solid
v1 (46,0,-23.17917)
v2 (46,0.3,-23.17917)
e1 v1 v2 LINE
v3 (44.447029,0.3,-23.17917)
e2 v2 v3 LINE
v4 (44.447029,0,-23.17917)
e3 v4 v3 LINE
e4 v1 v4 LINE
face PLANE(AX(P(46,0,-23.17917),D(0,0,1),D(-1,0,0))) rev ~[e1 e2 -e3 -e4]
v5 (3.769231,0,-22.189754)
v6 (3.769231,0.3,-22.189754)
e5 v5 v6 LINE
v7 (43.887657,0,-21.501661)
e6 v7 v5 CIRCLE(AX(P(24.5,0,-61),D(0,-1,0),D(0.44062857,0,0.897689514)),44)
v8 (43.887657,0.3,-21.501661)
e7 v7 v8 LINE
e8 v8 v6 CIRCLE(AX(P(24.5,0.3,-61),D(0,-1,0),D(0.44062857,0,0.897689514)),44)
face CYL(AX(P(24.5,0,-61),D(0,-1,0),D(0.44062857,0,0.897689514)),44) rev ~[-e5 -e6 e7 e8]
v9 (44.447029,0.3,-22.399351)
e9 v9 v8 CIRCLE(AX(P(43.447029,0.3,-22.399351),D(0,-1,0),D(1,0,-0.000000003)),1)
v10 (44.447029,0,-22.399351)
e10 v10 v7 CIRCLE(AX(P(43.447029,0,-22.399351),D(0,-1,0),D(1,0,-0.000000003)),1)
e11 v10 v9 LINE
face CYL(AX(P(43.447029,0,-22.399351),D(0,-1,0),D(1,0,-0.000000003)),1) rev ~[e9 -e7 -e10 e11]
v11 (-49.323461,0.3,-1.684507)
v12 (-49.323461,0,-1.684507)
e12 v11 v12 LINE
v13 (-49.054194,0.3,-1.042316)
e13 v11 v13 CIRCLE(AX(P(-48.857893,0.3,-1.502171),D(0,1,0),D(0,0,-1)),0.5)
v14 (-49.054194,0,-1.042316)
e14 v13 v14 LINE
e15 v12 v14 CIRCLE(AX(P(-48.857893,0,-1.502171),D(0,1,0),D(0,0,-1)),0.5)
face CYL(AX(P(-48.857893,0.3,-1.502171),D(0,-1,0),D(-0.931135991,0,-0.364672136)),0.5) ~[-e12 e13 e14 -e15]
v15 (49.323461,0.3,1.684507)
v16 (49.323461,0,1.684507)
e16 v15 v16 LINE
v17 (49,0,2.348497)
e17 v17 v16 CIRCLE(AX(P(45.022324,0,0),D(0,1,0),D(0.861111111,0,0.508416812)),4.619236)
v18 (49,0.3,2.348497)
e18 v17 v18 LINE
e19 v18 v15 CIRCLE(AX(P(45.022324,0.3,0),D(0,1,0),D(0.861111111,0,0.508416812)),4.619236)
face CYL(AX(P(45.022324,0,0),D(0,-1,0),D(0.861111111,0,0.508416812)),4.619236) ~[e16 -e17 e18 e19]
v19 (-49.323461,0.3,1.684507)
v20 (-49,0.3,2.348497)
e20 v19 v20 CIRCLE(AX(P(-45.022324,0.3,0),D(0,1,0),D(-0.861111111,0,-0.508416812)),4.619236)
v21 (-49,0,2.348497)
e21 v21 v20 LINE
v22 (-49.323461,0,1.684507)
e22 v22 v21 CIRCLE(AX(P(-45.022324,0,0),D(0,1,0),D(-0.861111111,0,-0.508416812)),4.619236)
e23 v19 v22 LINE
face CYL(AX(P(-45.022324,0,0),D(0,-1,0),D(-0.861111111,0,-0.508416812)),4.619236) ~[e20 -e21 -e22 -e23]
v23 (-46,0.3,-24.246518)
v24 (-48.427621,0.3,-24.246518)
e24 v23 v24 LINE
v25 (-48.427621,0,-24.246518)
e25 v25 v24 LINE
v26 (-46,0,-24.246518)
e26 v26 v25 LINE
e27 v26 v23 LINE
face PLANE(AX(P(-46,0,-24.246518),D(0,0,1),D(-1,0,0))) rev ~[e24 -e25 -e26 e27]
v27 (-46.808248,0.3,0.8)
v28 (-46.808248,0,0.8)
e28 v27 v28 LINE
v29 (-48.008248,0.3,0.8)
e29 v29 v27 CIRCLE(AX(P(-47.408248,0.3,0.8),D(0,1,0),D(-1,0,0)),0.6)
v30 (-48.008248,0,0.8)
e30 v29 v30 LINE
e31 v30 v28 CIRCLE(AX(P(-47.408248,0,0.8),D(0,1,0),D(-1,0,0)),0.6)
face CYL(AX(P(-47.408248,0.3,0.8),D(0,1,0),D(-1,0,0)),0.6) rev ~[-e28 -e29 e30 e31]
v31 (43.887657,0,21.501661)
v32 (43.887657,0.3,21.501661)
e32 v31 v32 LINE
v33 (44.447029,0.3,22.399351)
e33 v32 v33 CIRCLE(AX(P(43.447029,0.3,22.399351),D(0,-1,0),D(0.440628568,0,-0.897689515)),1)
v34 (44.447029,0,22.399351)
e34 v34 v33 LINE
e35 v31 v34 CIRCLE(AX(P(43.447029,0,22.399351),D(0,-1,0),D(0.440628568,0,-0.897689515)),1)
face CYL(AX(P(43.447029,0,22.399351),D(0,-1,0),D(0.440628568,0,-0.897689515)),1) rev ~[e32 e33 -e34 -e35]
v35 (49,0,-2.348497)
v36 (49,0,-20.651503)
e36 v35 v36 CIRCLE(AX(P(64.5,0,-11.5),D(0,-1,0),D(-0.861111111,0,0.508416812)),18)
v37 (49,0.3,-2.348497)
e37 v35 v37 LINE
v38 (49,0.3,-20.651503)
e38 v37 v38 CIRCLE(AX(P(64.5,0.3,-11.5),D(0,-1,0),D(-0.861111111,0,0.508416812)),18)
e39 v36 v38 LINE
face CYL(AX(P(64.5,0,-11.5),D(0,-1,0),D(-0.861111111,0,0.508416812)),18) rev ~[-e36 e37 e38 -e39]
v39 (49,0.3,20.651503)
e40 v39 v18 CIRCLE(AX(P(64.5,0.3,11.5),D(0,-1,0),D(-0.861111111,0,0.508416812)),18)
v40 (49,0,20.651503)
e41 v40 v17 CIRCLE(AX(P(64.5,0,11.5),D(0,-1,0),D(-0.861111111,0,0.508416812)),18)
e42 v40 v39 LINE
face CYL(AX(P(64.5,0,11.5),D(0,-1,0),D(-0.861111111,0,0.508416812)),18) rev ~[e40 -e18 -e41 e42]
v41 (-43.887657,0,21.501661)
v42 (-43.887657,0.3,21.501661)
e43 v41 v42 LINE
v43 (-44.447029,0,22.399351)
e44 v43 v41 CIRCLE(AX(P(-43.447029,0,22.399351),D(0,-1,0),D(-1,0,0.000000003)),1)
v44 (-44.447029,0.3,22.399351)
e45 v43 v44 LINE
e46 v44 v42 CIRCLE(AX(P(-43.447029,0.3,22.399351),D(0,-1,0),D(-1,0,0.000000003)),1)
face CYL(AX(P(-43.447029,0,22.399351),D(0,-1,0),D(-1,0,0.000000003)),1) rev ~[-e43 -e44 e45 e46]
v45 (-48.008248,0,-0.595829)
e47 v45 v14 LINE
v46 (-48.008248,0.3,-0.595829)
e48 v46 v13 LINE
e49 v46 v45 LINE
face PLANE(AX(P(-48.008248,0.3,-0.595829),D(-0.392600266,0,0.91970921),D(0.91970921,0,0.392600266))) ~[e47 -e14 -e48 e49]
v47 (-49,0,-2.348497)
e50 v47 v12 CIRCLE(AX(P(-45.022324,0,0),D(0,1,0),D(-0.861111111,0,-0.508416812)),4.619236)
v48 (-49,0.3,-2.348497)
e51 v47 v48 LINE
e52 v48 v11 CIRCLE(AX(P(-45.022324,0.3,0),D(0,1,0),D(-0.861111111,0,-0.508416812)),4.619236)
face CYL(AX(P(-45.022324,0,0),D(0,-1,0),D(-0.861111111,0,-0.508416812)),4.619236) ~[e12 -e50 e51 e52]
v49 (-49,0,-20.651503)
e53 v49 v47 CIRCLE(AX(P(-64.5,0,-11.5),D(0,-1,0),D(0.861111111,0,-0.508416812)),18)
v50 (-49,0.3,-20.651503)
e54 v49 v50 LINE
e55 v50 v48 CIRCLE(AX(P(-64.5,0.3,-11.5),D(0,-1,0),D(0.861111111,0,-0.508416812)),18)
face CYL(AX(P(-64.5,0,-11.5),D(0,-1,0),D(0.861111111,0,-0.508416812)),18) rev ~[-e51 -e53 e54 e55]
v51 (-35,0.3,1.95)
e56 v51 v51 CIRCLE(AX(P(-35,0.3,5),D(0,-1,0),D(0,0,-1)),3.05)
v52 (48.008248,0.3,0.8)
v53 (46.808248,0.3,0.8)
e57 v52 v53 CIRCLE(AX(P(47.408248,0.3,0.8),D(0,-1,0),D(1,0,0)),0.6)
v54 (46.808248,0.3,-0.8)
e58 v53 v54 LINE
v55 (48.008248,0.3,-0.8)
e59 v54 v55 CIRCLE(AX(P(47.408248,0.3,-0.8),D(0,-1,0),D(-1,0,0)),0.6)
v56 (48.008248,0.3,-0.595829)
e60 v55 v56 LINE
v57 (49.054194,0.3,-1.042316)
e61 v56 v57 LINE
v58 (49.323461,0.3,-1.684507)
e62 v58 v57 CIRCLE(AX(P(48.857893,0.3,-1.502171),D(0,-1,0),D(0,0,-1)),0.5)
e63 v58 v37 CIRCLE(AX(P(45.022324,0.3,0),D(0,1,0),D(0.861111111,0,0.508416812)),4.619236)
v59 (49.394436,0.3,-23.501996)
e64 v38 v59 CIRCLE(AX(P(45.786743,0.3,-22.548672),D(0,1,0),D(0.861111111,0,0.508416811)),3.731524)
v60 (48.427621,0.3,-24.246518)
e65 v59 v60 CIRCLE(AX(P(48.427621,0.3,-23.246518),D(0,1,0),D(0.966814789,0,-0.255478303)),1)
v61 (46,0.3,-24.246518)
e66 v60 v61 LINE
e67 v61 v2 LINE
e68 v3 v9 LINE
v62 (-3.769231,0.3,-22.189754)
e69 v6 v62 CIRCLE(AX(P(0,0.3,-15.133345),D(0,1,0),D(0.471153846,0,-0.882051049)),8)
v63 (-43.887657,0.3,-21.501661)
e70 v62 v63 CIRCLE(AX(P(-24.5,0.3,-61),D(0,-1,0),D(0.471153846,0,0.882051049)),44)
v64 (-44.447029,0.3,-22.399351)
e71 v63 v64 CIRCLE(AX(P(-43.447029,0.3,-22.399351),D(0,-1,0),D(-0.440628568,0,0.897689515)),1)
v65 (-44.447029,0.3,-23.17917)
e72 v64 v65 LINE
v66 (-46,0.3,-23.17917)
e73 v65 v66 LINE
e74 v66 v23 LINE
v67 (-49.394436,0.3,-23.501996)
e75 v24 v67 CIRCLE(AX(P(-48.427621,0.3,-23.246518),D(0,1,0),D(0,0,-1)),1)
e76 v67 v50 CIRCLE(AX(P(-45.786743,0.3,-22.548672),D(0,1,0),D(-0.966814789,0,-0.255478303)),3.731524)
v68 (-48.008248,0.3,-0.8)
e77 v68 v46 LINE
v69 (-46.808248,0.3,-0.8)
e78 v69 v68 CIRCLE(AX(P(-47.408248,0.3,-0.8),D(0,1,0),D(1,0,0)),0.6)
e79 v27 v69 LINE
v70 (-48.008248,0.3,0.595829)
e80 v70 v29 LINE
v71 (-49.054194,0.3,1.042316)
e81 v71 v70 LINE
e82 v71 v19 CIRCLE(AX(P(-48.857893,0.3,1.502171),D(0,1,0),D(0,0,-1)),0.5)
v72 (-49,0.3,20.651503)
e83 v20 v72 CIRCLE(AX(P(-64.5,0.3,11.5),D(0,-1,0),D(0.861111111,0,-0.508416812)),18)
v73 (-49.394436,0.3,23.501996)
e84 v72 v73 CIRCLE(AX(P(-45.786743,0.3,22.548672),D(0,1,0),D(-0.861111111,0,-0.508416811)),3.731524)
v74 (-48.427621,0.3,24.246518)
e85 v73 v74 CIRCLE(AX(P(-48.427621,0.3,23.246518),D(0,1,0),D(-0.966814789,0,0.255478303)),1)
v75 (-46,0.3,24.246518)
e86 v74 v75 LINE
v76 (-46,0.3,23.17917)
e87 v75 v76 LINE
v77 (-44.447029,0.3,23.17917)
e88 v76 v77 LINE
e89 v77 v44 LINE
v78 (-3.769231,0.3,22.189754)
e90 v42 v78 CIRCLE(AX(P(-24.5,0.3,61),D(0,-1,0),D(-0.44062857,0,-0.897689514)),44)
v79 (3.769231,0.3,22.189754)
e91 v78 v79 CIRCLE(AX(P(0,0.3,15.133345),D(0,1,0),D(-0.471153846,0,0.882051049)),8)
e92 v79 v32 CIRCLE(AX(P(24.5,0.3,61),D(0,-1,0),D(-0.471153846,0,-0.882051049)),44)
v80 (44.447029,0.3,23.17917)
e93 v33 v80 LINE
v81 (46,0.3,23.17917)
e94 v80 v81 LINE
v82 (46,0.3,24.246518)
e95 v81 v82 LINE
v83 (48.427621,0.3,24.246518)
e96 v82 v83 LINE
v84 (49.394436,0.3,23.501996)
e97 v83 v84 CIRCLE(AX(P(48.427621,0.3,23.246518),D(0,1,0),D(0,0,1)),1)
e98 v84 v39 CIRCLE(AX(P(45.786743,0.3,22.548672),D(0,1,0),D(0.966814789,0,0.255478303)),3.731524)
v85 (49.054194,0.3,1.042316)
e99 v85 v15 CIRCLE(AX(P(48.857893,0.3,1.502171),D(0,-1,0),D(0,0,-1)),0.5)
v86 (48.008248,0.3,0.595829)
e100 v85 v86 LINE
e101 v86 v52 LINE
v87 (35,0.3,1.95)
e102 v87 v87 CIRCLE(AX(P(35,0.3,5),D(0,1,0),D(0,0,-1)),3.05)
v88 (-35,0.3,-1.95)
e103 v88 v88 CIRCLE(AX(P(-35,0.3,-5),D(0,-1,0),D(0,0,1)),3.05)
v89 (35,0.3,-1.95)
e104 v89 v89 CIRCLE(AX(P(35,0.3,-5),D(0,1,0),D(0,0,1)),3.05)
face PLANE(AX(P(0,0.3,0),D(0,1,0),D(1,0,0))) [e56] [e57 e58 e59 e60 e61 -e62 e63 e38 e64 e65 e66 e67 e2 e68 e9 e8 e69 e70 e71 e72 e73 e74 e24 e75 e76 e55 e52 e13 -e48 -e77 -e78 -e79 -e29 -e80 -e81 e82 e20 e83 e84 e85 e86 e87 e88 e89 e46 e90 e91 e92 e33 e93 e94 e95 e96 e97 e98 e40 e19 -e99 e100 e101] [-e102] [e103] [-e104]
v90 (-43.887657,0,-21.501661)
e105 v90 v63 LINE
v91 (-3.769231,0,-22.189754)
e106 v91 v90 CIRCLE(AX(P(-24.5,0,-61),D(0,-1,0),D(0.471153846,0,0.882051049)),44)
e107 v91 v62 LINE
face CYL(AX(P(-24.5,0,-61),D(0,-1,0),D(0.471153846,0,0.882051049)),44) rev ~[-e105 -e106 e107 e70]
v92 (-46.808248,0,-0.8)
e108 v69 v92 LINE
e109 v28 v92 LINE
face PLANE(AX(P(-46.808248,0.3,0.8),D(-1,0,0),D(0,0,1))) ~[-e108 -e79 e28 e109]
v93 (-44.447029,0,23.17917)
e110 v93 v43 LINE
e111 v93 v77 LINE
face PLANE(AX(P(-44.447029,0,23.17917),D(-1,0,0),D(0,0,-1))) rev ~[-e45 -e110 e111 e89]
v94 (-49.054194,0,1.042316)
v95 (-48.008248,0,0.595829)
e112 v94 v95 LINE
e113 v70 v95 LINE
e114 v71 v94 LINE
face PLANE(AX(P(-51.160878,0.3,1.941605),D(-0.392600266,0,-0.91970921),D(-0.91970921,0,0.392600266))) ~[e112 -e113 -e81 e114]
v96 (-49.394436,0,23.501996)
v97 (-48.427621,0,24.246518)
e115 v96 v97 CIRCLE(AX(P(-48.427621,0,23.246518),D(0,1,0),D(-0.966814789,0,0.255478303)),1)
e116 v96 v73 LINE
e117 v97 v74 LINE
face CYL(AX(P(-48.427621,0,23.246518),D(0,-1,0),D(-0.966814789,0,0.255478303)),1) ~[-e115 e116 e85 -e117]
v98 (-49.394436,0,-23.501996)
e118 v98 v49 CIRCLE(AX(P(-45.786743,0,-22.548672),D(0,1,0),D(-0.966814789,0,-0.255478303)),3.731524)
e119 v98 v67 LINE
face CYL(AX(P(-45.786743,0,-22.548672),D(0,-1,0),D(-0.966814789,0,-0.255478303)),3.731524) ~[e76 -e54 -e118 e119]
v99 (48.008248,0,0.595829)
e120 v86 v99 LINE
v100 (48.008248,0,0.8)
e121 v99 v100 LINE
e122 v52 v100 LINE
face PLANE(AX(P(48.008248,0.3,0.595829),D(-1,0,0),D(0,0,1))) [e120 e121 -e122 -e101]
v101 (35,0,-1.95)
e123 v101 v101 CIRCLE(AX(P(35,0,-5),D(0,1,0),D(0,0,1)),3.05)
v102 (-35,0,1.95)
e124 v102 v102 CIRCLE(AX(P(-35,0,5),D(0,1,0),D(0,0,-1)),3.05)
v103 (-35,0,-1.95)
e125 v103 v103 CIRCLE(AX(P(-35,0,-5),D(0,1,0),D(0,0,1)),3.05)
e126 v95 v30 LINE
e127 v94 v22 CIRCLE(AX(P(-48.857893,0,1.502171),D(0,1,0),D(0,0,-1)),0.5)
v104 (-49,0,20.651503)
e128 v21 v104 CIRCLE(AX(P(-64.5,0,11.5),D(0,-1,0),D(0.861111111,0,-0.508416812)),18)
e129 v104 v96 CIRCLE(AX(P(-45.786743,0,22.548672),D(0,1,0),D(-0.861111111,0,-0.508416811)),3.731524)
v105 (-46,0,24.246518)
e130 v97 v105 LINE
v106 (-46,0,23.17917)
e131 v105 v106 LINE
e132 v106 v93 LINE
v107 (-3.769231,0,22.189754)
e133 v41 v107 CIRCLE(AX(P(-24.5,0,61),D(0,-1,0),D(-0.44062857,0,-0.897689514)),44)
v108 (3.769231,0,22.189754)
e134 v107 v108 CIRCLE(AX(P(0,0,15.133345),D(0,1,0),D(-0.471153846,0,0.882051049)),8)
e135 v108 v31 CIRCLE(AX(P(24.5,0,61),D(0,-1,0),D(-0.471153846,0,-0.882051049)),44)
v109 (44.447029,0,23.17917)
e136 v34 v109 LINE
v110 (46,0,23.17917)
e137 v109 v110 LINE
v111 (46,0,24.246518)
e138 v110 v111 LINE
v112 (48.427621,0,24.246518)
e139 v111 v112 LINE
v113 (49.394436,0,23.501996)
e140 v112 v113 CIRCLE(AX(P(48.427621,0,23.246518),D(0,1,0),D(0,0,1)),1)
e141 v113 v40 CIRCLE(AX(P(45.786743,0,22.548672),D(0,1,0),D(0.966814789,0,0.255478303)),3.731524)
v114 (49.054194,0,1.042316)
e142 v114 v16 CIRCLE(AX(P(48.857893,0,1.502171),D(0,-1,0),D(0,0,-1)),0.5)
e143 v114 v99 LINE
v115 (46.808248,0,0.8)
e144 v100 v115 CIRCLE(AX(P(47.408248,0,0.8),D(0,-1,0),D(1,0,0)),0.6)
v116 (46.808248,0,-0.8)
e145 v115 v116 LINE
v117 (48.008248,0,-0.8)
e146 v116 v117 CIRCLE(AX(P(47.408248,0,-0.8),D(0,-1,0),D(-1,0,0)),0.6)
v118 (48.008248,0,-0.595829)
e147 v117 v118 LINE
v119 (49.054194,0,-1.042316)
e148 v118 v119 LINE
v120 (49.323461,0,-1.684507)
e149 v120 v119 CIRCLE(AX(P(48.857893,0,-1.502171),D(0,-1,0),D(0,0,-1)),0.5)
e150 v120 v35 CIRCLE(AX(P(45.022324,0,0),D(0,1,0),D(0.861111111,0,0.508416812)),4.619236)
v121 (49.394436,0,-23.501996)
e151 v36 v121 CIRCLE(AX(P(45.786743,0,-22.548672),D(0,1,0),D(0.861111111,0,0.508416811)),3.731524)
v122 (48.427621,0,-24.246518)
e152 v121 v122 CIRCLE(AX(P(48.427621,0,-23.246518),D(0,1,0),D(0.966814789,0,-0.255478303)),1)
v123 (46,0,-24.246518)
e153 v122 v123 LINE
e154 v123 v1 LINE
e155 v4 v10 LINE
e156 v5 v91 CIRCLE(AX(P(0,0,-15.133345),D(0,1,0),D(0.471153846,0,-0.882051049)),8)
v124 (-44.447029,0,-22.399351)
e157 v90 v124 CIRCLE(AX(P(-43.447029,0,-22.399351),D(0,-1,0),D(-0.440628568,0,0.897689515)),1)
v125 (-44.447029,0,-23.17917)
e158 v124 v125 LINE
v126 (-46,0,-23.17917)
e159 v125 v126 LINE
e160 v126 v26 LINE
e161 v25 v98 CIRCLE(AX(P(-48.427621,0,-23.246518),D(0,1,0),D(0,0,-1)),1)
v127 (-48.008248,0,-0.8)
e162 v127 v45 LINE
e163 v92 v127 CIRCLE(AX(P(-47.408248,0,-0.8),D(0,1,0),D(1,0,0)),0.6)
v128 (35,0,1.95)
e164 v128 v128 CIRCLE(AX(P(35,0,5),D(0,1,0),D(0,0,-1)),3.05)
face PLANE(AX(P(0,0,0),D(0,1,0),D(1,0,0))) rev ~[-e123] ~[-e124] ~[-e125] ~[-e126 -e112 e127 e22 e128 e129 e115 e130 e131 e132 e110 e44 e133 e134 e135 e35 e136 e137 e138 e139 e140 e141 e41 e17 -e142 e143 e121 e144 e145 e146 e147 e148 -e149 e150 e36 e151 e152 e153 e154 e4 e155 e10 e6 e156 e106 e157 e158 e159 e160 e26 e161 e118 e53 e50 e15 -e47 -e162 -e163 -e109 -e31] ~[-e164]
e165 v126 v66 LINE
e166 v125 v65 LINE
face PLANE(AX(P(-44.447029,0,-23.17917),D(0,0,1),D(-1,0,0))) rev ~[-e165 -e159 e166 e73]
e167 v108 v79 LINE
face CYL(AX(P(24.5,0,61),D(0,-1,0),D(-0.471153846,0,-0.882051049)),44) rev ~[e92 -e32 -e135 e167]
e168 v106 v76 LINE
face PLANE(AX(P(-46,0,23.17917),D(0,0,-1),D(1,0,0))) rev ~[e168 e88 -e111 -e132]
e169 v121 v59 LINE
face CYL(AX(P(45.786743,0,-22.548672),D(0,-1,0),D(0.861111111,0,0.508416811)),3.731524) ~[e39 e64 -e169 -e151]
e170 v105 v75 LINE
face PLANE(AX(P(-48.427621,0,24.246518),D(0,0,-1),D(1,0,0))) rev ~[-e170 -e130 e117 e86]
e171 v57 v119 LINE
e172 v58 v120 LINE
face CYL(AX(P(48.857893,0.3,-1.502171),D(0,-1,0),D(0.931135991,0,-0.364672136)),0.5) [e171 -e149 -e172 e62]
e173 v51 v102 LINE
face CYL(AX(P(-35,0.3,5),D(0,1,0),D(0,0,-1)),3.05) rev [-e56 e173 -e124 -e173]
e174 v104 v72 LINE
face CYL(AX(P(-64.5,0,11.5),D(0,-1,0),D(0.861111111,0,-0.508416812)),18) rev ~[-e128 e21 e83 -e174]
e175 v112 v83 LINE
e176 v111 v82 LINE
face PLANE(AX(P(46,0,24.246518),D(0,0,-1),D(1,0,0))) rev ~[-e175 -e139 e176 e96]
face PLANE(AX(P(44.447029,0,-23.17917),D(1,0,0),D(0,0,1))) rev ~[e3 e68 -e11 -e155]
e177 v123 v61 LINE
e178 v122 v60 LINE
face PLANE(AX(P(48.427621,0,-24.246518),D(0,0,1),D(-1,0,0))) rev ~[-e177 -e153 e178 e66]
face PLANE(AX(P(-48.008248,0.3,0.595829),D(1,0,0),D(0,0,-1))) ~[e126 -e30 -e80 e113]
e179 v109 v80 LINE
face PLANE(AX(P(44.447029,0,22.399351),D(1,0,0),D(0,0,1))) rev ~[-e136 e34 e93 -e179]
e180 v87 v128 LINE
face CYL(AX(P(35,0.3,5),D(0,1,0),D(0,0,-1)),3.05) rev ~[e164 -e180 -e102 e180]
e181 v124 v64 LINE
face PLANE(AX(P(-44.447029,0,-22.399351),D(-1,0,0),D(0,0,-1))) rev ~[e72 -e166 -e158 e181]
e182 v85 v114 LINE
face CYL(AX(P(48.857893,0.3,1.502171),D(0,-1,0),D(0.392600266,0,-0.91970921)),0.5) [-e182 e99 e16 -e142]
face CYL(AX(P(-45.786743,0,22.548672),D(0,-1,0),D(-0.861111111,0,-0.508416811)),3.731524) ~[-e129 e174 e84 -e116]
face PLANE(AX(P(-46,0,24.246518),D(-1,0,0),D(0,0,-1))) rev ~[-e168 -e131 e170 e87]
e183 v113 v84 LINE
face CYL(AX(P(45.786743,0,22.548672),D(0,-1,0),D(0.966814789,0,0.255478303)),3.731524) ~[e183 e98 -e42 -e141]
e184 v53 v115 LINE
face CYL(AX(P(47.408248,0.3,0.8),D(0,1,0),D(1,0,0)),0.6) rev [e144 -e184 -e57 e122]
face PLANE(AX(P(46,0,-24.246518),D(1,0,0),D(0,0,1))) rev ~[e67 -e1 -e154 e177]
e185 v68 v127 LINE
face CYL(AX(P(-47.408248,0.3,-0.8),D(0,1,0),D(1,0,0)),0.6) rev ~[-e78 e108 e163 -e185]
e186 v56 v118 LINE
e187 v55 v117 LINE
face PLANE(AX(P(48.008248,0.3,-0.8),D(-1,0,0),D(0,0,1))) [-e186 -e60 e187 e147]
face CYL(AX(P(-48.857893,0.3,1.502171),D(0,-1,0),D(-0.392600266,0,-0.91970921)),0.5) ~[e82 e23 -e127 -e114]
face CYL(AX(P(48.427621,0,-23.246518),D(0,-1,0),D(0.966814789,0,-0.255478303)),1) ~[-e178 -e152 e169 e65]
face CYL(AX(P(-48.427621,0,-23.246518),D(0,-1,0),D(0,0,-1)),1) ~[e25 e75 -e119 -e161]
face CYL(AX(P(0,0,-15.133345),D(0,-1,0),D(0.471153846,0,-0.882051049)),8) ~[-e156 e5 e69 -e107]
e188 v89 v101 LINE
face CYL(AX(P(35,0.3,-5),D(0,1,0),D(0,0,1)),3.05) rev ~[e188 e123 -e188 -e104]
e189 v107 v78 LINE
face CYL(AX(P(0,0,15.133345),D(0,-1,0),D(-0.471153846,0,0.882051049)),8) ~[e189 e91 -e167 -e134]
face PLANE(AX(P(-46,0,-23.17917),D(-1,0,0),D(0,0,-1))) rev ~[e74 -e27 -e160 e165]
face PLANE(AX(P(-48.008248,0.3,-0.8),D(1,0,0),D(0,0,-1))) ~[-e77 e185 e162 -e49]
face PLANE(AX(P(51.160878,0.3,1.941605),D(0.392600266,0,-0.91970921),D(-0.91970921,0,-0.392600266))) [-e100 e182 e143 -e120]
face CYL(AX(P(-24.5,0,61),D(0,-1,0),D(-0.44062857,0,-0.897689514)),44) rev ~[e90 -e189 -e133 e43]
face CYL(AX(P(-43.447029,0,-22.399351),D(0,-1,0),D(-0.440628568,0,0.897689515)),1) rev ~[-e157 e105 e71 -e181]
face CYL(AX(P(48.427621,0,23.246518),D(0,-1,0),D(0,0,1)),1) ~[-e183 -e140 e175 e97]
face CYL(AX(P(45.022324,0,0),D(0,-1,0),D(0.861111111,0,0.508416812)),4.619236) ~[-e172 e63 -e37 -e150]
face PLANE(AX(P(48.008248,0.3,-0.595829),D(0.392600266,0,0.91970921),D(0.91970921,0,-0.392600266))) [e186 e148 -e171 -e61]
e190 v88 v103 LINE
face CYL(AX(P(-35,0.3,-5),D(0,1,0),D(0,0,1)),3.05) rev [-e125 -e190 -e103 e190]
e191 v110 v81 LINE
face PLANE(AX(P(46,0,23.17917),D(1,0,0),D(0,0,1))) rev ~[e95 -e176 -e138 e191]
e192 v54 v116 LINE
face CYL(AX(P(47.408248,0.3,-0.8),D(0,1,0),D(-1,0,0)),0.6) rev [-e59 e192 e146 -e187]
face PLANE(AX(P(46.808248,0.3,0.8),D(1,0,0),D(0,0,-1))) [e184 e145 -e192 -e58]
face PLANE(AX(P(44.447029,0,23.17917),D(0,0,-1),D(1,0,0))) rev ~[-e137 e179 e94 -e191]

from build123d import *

# Parameters (mm, degrees)
BOSS_EXTRUDE1_DEPTH = 0.3
CUT_EXTRUDE1_DEPTH  = 0.3
SKETCH3_R           = 3.05
CUT_EXTRUDE2_DEPTH  = 10
FILLET3_R           = 0.5


with BuildPart() as part:
    # Sketch1 → Boss-Extrude1 (new body)
    with BuildSketch(Plane(origin=(0, 0, 0), x_dir=(1, 0, 0), z_dir=(0, 1, 0))):
        with BuildLine():
            Line((-46, 24.246517619), (-48.427621072, 24.246517619))
            ThreePointArc((-48.427621072, 24.246517619), (-49.0377529, 24.038817532), (-49.394435861, 23.501995922))
            ThreePointArc((-49.394435861, 23.501995922), (-49.48304753, 22.03719771), (-49, 20.651502609))
            ThreePointArc((-49, 20.651502609), (-46.5, 11.5), (-49, 2.348497391))
            ThreePointArc((-49, 2.348497391), (-49.641560597, 0), (-49, -2.348497391))
            ThreePointArc((-49, -2.348497391), (-46.5, -11.5), (-49, -20.651502609))
            ThreePointArc((-49, -20.651502609), (-49.48304753, -22.03719771), (-49.394435861, -23.501995922))
            ThreePointArc((-49.394435861, -23.501995922), (-49.0377529, -24.038817532), (-48.427621072, -24.246517619))
            Line((-48.427621072, -24.246517619), (-46, -24.246517619))
            Line((-46, -24.246517619), (-46, -23.179169783))
            Line((-46, -23.179169783), (-44.447028528, -23.179169783))
            Line((-44.447028528, -23.179169783), (-44.447028528, -22.399350913))
            ThreePointArc((-44.447028528, -22.399350913), (-44.29574184, -21.870497705), (-43.887657098, -21.501661399))
            ThreePointArc((-43.887657098, -21.501661399), (-23.745443606, -17.006470423), (-3.769230769, -22.189753839))
            ThreePointArc((-3.769230769, -22.189753839), (0, -23.133345446), (3.769230769, -22.189753839))
            ThreePointArc((3.769230769, -22.189753839), (23.745443606, -17.006470423), (43.887657098, -21.501661399))
            ThreePointArc((43.887657098, -21.501661399), (44.29574184, -21.870497705), (44.447028528, -22.399350913))
            Line((44.447028528, -22.399350913), (44.447028528, -23.179169783))
            Line((44.447028528, -23.179169783), (46, -23.179169783))
            Line((46, -23.179169783), (46, -24.246517619))
            Line((46, -24.246517619), (48.427621072, -24.246517619))
            ThreePointArc((48.427621072, -24.246517619), (49.0377529, -24.038817532), (49.394435861, -23.501995922))
            ThreePointArc((49.394435861, -23.501995922), (49.48304753, -22.03719771), (49, -20.651502609))
            ThreePointArc((49, -20.651502609), (46.5, -11.5), (49, -2.348497391))
            ThreePointArc((49, -2.348497391), (49.641560597, 0), (49, 2.348497391))
            ThreePointArc((49, 2.348497391), (46.5, 11.5), (49, 20.651502609))
            ThreePointArc((49, 20.651502609), (49.48304753, 22.03719771), (49.394435861, 23.501995922))
            ThreePointArc((49.394435861, 23.501995922), (49.0377529, 24.038817532), (48.427621072, 24.246517619))
            Line((48.427621072, 24.246517619), (46, 24.246517619))
            Line((46, 24.246517619), (46, 23.179169783))
            Line((46, 23.179169783), (44.447028528, 23.179169783))
            Line((44.447028528, 23.179169783), (44.447028528, 22.399350913))
            ThreePointArc((44.447028528, 22.399350913), (44.29574184, 21.870497705), (43.887657098, 21.501661399))
            ThreePointArc((43.887657098, 21.501661399), (23.745443606, 17.006470423), (3.769230769, 22.189753839))
            ThreePointArc((3.769230769, 22.189753839), (0, 23.133345446), (-3.769230769, 22.189753839))
            ThreePointArc((-3.769230769, 22.189753839), (-23.745443606, 17.006470423), (-43.887657098, 21.501661399))
            ThreePointArc((-43.887657098, 21.501661399), (-44.29574184, 21.870497705), (-44.447028528, 22.399350913))
            Line((-44.447028528, 22.399350913), (-44.447028528, 23.179169783))
            Line((-44.447028528, 23.179169783), (-46, 23.179169783))
            Line((-46, 23.179169783), (-46, 24.246517619))
        make_face()
    extrude(amount=BOSS_EXTRUDE1_DEPTH)

    # Sketch2 → Cut-Extrude1 (cut)
    with BuildSketch(Plane(origin=(0, 0.3, 0), x_dir=(1, 0, 0), z_dir=(0, 1, 0))):
        with BuildLine():
            Line((48.008247744, 0.595828641), (51.16087761, 1.941605447))
            Line((51.16087761, 1.941605447), (51.16087761, -1.941605447))
            Line((51.16087761, -1.941605447), (48.008247744, -0.595828641))
            Line((48.008247744, -0.595828641), (48.008247744, -0.8))
            ThreePointArc((48.008247744, -0.8), (47.408247744, -1.4), (46.808247744, -0.8))
            Line((46.808247744, -0.8), (46.808247744, 0.8))
            ThreePointArc((46.808247744, 0.8), (47.408247744, 1.4), (48.008247744, 0.8))
            Line((48.008247744, 0.8), (48.008247744, 0.595828641))
        make_face()
    cut_extrude1 = extrude(amount=-CUT_EXTRUDE1_DEPTH, mode=Mode.SUBTRACT)

    # Sketch3 → Cut-Extrude2 (cut)
    with BuildSketch(Plane(origin=(0, 0.3, 0), x_dir=(1, 0, 0), z_dir=(0, 1, 0))):
        with Locations(Location((35, 5, 0), (0, 0, 270))):
            Circle(SKETCH3_R)
        with Locations(Location((35, -5, 0), (0, 0, 90))):
            Circle(SKETCH3_R)
    cut_extrude2 = extrude(amount=-CUT_EXTRUDE2_DEPTH, mode=Mode.SUBTRACT)

    # Mirror2: Cut-Extrude1, Cut-Extrude2 across plane
    add(cut_extrude1.mirror(Plane(origin=(0, 0, 0), x_dir=(0, 0, 1), z_dir=(1, 0, 0))), mode=Mode.SUBTRACT)
    add(cut_extrude2.mirror(Plane(origin=(0, 0, 0), x_dir=(0, 0, 1), z_dir=(1, 0, 0))), mode=Mode.SUBTRACT)

    # Fillet3
    fillet3_edges = [part.edges().sort_by_distance(p)[0] for p in [
        (49.476795577, 0.15, -1.222714034),
        (49.476795577, 0.15, 1.222714034),
        (-49.476795577, 0.15, 1.222714034),
        (-49.476795577, 0.15, -1.222714034),
    ]]
    fillet(fillet3_edges, radius=FILLET3_R)


solid = part.part
